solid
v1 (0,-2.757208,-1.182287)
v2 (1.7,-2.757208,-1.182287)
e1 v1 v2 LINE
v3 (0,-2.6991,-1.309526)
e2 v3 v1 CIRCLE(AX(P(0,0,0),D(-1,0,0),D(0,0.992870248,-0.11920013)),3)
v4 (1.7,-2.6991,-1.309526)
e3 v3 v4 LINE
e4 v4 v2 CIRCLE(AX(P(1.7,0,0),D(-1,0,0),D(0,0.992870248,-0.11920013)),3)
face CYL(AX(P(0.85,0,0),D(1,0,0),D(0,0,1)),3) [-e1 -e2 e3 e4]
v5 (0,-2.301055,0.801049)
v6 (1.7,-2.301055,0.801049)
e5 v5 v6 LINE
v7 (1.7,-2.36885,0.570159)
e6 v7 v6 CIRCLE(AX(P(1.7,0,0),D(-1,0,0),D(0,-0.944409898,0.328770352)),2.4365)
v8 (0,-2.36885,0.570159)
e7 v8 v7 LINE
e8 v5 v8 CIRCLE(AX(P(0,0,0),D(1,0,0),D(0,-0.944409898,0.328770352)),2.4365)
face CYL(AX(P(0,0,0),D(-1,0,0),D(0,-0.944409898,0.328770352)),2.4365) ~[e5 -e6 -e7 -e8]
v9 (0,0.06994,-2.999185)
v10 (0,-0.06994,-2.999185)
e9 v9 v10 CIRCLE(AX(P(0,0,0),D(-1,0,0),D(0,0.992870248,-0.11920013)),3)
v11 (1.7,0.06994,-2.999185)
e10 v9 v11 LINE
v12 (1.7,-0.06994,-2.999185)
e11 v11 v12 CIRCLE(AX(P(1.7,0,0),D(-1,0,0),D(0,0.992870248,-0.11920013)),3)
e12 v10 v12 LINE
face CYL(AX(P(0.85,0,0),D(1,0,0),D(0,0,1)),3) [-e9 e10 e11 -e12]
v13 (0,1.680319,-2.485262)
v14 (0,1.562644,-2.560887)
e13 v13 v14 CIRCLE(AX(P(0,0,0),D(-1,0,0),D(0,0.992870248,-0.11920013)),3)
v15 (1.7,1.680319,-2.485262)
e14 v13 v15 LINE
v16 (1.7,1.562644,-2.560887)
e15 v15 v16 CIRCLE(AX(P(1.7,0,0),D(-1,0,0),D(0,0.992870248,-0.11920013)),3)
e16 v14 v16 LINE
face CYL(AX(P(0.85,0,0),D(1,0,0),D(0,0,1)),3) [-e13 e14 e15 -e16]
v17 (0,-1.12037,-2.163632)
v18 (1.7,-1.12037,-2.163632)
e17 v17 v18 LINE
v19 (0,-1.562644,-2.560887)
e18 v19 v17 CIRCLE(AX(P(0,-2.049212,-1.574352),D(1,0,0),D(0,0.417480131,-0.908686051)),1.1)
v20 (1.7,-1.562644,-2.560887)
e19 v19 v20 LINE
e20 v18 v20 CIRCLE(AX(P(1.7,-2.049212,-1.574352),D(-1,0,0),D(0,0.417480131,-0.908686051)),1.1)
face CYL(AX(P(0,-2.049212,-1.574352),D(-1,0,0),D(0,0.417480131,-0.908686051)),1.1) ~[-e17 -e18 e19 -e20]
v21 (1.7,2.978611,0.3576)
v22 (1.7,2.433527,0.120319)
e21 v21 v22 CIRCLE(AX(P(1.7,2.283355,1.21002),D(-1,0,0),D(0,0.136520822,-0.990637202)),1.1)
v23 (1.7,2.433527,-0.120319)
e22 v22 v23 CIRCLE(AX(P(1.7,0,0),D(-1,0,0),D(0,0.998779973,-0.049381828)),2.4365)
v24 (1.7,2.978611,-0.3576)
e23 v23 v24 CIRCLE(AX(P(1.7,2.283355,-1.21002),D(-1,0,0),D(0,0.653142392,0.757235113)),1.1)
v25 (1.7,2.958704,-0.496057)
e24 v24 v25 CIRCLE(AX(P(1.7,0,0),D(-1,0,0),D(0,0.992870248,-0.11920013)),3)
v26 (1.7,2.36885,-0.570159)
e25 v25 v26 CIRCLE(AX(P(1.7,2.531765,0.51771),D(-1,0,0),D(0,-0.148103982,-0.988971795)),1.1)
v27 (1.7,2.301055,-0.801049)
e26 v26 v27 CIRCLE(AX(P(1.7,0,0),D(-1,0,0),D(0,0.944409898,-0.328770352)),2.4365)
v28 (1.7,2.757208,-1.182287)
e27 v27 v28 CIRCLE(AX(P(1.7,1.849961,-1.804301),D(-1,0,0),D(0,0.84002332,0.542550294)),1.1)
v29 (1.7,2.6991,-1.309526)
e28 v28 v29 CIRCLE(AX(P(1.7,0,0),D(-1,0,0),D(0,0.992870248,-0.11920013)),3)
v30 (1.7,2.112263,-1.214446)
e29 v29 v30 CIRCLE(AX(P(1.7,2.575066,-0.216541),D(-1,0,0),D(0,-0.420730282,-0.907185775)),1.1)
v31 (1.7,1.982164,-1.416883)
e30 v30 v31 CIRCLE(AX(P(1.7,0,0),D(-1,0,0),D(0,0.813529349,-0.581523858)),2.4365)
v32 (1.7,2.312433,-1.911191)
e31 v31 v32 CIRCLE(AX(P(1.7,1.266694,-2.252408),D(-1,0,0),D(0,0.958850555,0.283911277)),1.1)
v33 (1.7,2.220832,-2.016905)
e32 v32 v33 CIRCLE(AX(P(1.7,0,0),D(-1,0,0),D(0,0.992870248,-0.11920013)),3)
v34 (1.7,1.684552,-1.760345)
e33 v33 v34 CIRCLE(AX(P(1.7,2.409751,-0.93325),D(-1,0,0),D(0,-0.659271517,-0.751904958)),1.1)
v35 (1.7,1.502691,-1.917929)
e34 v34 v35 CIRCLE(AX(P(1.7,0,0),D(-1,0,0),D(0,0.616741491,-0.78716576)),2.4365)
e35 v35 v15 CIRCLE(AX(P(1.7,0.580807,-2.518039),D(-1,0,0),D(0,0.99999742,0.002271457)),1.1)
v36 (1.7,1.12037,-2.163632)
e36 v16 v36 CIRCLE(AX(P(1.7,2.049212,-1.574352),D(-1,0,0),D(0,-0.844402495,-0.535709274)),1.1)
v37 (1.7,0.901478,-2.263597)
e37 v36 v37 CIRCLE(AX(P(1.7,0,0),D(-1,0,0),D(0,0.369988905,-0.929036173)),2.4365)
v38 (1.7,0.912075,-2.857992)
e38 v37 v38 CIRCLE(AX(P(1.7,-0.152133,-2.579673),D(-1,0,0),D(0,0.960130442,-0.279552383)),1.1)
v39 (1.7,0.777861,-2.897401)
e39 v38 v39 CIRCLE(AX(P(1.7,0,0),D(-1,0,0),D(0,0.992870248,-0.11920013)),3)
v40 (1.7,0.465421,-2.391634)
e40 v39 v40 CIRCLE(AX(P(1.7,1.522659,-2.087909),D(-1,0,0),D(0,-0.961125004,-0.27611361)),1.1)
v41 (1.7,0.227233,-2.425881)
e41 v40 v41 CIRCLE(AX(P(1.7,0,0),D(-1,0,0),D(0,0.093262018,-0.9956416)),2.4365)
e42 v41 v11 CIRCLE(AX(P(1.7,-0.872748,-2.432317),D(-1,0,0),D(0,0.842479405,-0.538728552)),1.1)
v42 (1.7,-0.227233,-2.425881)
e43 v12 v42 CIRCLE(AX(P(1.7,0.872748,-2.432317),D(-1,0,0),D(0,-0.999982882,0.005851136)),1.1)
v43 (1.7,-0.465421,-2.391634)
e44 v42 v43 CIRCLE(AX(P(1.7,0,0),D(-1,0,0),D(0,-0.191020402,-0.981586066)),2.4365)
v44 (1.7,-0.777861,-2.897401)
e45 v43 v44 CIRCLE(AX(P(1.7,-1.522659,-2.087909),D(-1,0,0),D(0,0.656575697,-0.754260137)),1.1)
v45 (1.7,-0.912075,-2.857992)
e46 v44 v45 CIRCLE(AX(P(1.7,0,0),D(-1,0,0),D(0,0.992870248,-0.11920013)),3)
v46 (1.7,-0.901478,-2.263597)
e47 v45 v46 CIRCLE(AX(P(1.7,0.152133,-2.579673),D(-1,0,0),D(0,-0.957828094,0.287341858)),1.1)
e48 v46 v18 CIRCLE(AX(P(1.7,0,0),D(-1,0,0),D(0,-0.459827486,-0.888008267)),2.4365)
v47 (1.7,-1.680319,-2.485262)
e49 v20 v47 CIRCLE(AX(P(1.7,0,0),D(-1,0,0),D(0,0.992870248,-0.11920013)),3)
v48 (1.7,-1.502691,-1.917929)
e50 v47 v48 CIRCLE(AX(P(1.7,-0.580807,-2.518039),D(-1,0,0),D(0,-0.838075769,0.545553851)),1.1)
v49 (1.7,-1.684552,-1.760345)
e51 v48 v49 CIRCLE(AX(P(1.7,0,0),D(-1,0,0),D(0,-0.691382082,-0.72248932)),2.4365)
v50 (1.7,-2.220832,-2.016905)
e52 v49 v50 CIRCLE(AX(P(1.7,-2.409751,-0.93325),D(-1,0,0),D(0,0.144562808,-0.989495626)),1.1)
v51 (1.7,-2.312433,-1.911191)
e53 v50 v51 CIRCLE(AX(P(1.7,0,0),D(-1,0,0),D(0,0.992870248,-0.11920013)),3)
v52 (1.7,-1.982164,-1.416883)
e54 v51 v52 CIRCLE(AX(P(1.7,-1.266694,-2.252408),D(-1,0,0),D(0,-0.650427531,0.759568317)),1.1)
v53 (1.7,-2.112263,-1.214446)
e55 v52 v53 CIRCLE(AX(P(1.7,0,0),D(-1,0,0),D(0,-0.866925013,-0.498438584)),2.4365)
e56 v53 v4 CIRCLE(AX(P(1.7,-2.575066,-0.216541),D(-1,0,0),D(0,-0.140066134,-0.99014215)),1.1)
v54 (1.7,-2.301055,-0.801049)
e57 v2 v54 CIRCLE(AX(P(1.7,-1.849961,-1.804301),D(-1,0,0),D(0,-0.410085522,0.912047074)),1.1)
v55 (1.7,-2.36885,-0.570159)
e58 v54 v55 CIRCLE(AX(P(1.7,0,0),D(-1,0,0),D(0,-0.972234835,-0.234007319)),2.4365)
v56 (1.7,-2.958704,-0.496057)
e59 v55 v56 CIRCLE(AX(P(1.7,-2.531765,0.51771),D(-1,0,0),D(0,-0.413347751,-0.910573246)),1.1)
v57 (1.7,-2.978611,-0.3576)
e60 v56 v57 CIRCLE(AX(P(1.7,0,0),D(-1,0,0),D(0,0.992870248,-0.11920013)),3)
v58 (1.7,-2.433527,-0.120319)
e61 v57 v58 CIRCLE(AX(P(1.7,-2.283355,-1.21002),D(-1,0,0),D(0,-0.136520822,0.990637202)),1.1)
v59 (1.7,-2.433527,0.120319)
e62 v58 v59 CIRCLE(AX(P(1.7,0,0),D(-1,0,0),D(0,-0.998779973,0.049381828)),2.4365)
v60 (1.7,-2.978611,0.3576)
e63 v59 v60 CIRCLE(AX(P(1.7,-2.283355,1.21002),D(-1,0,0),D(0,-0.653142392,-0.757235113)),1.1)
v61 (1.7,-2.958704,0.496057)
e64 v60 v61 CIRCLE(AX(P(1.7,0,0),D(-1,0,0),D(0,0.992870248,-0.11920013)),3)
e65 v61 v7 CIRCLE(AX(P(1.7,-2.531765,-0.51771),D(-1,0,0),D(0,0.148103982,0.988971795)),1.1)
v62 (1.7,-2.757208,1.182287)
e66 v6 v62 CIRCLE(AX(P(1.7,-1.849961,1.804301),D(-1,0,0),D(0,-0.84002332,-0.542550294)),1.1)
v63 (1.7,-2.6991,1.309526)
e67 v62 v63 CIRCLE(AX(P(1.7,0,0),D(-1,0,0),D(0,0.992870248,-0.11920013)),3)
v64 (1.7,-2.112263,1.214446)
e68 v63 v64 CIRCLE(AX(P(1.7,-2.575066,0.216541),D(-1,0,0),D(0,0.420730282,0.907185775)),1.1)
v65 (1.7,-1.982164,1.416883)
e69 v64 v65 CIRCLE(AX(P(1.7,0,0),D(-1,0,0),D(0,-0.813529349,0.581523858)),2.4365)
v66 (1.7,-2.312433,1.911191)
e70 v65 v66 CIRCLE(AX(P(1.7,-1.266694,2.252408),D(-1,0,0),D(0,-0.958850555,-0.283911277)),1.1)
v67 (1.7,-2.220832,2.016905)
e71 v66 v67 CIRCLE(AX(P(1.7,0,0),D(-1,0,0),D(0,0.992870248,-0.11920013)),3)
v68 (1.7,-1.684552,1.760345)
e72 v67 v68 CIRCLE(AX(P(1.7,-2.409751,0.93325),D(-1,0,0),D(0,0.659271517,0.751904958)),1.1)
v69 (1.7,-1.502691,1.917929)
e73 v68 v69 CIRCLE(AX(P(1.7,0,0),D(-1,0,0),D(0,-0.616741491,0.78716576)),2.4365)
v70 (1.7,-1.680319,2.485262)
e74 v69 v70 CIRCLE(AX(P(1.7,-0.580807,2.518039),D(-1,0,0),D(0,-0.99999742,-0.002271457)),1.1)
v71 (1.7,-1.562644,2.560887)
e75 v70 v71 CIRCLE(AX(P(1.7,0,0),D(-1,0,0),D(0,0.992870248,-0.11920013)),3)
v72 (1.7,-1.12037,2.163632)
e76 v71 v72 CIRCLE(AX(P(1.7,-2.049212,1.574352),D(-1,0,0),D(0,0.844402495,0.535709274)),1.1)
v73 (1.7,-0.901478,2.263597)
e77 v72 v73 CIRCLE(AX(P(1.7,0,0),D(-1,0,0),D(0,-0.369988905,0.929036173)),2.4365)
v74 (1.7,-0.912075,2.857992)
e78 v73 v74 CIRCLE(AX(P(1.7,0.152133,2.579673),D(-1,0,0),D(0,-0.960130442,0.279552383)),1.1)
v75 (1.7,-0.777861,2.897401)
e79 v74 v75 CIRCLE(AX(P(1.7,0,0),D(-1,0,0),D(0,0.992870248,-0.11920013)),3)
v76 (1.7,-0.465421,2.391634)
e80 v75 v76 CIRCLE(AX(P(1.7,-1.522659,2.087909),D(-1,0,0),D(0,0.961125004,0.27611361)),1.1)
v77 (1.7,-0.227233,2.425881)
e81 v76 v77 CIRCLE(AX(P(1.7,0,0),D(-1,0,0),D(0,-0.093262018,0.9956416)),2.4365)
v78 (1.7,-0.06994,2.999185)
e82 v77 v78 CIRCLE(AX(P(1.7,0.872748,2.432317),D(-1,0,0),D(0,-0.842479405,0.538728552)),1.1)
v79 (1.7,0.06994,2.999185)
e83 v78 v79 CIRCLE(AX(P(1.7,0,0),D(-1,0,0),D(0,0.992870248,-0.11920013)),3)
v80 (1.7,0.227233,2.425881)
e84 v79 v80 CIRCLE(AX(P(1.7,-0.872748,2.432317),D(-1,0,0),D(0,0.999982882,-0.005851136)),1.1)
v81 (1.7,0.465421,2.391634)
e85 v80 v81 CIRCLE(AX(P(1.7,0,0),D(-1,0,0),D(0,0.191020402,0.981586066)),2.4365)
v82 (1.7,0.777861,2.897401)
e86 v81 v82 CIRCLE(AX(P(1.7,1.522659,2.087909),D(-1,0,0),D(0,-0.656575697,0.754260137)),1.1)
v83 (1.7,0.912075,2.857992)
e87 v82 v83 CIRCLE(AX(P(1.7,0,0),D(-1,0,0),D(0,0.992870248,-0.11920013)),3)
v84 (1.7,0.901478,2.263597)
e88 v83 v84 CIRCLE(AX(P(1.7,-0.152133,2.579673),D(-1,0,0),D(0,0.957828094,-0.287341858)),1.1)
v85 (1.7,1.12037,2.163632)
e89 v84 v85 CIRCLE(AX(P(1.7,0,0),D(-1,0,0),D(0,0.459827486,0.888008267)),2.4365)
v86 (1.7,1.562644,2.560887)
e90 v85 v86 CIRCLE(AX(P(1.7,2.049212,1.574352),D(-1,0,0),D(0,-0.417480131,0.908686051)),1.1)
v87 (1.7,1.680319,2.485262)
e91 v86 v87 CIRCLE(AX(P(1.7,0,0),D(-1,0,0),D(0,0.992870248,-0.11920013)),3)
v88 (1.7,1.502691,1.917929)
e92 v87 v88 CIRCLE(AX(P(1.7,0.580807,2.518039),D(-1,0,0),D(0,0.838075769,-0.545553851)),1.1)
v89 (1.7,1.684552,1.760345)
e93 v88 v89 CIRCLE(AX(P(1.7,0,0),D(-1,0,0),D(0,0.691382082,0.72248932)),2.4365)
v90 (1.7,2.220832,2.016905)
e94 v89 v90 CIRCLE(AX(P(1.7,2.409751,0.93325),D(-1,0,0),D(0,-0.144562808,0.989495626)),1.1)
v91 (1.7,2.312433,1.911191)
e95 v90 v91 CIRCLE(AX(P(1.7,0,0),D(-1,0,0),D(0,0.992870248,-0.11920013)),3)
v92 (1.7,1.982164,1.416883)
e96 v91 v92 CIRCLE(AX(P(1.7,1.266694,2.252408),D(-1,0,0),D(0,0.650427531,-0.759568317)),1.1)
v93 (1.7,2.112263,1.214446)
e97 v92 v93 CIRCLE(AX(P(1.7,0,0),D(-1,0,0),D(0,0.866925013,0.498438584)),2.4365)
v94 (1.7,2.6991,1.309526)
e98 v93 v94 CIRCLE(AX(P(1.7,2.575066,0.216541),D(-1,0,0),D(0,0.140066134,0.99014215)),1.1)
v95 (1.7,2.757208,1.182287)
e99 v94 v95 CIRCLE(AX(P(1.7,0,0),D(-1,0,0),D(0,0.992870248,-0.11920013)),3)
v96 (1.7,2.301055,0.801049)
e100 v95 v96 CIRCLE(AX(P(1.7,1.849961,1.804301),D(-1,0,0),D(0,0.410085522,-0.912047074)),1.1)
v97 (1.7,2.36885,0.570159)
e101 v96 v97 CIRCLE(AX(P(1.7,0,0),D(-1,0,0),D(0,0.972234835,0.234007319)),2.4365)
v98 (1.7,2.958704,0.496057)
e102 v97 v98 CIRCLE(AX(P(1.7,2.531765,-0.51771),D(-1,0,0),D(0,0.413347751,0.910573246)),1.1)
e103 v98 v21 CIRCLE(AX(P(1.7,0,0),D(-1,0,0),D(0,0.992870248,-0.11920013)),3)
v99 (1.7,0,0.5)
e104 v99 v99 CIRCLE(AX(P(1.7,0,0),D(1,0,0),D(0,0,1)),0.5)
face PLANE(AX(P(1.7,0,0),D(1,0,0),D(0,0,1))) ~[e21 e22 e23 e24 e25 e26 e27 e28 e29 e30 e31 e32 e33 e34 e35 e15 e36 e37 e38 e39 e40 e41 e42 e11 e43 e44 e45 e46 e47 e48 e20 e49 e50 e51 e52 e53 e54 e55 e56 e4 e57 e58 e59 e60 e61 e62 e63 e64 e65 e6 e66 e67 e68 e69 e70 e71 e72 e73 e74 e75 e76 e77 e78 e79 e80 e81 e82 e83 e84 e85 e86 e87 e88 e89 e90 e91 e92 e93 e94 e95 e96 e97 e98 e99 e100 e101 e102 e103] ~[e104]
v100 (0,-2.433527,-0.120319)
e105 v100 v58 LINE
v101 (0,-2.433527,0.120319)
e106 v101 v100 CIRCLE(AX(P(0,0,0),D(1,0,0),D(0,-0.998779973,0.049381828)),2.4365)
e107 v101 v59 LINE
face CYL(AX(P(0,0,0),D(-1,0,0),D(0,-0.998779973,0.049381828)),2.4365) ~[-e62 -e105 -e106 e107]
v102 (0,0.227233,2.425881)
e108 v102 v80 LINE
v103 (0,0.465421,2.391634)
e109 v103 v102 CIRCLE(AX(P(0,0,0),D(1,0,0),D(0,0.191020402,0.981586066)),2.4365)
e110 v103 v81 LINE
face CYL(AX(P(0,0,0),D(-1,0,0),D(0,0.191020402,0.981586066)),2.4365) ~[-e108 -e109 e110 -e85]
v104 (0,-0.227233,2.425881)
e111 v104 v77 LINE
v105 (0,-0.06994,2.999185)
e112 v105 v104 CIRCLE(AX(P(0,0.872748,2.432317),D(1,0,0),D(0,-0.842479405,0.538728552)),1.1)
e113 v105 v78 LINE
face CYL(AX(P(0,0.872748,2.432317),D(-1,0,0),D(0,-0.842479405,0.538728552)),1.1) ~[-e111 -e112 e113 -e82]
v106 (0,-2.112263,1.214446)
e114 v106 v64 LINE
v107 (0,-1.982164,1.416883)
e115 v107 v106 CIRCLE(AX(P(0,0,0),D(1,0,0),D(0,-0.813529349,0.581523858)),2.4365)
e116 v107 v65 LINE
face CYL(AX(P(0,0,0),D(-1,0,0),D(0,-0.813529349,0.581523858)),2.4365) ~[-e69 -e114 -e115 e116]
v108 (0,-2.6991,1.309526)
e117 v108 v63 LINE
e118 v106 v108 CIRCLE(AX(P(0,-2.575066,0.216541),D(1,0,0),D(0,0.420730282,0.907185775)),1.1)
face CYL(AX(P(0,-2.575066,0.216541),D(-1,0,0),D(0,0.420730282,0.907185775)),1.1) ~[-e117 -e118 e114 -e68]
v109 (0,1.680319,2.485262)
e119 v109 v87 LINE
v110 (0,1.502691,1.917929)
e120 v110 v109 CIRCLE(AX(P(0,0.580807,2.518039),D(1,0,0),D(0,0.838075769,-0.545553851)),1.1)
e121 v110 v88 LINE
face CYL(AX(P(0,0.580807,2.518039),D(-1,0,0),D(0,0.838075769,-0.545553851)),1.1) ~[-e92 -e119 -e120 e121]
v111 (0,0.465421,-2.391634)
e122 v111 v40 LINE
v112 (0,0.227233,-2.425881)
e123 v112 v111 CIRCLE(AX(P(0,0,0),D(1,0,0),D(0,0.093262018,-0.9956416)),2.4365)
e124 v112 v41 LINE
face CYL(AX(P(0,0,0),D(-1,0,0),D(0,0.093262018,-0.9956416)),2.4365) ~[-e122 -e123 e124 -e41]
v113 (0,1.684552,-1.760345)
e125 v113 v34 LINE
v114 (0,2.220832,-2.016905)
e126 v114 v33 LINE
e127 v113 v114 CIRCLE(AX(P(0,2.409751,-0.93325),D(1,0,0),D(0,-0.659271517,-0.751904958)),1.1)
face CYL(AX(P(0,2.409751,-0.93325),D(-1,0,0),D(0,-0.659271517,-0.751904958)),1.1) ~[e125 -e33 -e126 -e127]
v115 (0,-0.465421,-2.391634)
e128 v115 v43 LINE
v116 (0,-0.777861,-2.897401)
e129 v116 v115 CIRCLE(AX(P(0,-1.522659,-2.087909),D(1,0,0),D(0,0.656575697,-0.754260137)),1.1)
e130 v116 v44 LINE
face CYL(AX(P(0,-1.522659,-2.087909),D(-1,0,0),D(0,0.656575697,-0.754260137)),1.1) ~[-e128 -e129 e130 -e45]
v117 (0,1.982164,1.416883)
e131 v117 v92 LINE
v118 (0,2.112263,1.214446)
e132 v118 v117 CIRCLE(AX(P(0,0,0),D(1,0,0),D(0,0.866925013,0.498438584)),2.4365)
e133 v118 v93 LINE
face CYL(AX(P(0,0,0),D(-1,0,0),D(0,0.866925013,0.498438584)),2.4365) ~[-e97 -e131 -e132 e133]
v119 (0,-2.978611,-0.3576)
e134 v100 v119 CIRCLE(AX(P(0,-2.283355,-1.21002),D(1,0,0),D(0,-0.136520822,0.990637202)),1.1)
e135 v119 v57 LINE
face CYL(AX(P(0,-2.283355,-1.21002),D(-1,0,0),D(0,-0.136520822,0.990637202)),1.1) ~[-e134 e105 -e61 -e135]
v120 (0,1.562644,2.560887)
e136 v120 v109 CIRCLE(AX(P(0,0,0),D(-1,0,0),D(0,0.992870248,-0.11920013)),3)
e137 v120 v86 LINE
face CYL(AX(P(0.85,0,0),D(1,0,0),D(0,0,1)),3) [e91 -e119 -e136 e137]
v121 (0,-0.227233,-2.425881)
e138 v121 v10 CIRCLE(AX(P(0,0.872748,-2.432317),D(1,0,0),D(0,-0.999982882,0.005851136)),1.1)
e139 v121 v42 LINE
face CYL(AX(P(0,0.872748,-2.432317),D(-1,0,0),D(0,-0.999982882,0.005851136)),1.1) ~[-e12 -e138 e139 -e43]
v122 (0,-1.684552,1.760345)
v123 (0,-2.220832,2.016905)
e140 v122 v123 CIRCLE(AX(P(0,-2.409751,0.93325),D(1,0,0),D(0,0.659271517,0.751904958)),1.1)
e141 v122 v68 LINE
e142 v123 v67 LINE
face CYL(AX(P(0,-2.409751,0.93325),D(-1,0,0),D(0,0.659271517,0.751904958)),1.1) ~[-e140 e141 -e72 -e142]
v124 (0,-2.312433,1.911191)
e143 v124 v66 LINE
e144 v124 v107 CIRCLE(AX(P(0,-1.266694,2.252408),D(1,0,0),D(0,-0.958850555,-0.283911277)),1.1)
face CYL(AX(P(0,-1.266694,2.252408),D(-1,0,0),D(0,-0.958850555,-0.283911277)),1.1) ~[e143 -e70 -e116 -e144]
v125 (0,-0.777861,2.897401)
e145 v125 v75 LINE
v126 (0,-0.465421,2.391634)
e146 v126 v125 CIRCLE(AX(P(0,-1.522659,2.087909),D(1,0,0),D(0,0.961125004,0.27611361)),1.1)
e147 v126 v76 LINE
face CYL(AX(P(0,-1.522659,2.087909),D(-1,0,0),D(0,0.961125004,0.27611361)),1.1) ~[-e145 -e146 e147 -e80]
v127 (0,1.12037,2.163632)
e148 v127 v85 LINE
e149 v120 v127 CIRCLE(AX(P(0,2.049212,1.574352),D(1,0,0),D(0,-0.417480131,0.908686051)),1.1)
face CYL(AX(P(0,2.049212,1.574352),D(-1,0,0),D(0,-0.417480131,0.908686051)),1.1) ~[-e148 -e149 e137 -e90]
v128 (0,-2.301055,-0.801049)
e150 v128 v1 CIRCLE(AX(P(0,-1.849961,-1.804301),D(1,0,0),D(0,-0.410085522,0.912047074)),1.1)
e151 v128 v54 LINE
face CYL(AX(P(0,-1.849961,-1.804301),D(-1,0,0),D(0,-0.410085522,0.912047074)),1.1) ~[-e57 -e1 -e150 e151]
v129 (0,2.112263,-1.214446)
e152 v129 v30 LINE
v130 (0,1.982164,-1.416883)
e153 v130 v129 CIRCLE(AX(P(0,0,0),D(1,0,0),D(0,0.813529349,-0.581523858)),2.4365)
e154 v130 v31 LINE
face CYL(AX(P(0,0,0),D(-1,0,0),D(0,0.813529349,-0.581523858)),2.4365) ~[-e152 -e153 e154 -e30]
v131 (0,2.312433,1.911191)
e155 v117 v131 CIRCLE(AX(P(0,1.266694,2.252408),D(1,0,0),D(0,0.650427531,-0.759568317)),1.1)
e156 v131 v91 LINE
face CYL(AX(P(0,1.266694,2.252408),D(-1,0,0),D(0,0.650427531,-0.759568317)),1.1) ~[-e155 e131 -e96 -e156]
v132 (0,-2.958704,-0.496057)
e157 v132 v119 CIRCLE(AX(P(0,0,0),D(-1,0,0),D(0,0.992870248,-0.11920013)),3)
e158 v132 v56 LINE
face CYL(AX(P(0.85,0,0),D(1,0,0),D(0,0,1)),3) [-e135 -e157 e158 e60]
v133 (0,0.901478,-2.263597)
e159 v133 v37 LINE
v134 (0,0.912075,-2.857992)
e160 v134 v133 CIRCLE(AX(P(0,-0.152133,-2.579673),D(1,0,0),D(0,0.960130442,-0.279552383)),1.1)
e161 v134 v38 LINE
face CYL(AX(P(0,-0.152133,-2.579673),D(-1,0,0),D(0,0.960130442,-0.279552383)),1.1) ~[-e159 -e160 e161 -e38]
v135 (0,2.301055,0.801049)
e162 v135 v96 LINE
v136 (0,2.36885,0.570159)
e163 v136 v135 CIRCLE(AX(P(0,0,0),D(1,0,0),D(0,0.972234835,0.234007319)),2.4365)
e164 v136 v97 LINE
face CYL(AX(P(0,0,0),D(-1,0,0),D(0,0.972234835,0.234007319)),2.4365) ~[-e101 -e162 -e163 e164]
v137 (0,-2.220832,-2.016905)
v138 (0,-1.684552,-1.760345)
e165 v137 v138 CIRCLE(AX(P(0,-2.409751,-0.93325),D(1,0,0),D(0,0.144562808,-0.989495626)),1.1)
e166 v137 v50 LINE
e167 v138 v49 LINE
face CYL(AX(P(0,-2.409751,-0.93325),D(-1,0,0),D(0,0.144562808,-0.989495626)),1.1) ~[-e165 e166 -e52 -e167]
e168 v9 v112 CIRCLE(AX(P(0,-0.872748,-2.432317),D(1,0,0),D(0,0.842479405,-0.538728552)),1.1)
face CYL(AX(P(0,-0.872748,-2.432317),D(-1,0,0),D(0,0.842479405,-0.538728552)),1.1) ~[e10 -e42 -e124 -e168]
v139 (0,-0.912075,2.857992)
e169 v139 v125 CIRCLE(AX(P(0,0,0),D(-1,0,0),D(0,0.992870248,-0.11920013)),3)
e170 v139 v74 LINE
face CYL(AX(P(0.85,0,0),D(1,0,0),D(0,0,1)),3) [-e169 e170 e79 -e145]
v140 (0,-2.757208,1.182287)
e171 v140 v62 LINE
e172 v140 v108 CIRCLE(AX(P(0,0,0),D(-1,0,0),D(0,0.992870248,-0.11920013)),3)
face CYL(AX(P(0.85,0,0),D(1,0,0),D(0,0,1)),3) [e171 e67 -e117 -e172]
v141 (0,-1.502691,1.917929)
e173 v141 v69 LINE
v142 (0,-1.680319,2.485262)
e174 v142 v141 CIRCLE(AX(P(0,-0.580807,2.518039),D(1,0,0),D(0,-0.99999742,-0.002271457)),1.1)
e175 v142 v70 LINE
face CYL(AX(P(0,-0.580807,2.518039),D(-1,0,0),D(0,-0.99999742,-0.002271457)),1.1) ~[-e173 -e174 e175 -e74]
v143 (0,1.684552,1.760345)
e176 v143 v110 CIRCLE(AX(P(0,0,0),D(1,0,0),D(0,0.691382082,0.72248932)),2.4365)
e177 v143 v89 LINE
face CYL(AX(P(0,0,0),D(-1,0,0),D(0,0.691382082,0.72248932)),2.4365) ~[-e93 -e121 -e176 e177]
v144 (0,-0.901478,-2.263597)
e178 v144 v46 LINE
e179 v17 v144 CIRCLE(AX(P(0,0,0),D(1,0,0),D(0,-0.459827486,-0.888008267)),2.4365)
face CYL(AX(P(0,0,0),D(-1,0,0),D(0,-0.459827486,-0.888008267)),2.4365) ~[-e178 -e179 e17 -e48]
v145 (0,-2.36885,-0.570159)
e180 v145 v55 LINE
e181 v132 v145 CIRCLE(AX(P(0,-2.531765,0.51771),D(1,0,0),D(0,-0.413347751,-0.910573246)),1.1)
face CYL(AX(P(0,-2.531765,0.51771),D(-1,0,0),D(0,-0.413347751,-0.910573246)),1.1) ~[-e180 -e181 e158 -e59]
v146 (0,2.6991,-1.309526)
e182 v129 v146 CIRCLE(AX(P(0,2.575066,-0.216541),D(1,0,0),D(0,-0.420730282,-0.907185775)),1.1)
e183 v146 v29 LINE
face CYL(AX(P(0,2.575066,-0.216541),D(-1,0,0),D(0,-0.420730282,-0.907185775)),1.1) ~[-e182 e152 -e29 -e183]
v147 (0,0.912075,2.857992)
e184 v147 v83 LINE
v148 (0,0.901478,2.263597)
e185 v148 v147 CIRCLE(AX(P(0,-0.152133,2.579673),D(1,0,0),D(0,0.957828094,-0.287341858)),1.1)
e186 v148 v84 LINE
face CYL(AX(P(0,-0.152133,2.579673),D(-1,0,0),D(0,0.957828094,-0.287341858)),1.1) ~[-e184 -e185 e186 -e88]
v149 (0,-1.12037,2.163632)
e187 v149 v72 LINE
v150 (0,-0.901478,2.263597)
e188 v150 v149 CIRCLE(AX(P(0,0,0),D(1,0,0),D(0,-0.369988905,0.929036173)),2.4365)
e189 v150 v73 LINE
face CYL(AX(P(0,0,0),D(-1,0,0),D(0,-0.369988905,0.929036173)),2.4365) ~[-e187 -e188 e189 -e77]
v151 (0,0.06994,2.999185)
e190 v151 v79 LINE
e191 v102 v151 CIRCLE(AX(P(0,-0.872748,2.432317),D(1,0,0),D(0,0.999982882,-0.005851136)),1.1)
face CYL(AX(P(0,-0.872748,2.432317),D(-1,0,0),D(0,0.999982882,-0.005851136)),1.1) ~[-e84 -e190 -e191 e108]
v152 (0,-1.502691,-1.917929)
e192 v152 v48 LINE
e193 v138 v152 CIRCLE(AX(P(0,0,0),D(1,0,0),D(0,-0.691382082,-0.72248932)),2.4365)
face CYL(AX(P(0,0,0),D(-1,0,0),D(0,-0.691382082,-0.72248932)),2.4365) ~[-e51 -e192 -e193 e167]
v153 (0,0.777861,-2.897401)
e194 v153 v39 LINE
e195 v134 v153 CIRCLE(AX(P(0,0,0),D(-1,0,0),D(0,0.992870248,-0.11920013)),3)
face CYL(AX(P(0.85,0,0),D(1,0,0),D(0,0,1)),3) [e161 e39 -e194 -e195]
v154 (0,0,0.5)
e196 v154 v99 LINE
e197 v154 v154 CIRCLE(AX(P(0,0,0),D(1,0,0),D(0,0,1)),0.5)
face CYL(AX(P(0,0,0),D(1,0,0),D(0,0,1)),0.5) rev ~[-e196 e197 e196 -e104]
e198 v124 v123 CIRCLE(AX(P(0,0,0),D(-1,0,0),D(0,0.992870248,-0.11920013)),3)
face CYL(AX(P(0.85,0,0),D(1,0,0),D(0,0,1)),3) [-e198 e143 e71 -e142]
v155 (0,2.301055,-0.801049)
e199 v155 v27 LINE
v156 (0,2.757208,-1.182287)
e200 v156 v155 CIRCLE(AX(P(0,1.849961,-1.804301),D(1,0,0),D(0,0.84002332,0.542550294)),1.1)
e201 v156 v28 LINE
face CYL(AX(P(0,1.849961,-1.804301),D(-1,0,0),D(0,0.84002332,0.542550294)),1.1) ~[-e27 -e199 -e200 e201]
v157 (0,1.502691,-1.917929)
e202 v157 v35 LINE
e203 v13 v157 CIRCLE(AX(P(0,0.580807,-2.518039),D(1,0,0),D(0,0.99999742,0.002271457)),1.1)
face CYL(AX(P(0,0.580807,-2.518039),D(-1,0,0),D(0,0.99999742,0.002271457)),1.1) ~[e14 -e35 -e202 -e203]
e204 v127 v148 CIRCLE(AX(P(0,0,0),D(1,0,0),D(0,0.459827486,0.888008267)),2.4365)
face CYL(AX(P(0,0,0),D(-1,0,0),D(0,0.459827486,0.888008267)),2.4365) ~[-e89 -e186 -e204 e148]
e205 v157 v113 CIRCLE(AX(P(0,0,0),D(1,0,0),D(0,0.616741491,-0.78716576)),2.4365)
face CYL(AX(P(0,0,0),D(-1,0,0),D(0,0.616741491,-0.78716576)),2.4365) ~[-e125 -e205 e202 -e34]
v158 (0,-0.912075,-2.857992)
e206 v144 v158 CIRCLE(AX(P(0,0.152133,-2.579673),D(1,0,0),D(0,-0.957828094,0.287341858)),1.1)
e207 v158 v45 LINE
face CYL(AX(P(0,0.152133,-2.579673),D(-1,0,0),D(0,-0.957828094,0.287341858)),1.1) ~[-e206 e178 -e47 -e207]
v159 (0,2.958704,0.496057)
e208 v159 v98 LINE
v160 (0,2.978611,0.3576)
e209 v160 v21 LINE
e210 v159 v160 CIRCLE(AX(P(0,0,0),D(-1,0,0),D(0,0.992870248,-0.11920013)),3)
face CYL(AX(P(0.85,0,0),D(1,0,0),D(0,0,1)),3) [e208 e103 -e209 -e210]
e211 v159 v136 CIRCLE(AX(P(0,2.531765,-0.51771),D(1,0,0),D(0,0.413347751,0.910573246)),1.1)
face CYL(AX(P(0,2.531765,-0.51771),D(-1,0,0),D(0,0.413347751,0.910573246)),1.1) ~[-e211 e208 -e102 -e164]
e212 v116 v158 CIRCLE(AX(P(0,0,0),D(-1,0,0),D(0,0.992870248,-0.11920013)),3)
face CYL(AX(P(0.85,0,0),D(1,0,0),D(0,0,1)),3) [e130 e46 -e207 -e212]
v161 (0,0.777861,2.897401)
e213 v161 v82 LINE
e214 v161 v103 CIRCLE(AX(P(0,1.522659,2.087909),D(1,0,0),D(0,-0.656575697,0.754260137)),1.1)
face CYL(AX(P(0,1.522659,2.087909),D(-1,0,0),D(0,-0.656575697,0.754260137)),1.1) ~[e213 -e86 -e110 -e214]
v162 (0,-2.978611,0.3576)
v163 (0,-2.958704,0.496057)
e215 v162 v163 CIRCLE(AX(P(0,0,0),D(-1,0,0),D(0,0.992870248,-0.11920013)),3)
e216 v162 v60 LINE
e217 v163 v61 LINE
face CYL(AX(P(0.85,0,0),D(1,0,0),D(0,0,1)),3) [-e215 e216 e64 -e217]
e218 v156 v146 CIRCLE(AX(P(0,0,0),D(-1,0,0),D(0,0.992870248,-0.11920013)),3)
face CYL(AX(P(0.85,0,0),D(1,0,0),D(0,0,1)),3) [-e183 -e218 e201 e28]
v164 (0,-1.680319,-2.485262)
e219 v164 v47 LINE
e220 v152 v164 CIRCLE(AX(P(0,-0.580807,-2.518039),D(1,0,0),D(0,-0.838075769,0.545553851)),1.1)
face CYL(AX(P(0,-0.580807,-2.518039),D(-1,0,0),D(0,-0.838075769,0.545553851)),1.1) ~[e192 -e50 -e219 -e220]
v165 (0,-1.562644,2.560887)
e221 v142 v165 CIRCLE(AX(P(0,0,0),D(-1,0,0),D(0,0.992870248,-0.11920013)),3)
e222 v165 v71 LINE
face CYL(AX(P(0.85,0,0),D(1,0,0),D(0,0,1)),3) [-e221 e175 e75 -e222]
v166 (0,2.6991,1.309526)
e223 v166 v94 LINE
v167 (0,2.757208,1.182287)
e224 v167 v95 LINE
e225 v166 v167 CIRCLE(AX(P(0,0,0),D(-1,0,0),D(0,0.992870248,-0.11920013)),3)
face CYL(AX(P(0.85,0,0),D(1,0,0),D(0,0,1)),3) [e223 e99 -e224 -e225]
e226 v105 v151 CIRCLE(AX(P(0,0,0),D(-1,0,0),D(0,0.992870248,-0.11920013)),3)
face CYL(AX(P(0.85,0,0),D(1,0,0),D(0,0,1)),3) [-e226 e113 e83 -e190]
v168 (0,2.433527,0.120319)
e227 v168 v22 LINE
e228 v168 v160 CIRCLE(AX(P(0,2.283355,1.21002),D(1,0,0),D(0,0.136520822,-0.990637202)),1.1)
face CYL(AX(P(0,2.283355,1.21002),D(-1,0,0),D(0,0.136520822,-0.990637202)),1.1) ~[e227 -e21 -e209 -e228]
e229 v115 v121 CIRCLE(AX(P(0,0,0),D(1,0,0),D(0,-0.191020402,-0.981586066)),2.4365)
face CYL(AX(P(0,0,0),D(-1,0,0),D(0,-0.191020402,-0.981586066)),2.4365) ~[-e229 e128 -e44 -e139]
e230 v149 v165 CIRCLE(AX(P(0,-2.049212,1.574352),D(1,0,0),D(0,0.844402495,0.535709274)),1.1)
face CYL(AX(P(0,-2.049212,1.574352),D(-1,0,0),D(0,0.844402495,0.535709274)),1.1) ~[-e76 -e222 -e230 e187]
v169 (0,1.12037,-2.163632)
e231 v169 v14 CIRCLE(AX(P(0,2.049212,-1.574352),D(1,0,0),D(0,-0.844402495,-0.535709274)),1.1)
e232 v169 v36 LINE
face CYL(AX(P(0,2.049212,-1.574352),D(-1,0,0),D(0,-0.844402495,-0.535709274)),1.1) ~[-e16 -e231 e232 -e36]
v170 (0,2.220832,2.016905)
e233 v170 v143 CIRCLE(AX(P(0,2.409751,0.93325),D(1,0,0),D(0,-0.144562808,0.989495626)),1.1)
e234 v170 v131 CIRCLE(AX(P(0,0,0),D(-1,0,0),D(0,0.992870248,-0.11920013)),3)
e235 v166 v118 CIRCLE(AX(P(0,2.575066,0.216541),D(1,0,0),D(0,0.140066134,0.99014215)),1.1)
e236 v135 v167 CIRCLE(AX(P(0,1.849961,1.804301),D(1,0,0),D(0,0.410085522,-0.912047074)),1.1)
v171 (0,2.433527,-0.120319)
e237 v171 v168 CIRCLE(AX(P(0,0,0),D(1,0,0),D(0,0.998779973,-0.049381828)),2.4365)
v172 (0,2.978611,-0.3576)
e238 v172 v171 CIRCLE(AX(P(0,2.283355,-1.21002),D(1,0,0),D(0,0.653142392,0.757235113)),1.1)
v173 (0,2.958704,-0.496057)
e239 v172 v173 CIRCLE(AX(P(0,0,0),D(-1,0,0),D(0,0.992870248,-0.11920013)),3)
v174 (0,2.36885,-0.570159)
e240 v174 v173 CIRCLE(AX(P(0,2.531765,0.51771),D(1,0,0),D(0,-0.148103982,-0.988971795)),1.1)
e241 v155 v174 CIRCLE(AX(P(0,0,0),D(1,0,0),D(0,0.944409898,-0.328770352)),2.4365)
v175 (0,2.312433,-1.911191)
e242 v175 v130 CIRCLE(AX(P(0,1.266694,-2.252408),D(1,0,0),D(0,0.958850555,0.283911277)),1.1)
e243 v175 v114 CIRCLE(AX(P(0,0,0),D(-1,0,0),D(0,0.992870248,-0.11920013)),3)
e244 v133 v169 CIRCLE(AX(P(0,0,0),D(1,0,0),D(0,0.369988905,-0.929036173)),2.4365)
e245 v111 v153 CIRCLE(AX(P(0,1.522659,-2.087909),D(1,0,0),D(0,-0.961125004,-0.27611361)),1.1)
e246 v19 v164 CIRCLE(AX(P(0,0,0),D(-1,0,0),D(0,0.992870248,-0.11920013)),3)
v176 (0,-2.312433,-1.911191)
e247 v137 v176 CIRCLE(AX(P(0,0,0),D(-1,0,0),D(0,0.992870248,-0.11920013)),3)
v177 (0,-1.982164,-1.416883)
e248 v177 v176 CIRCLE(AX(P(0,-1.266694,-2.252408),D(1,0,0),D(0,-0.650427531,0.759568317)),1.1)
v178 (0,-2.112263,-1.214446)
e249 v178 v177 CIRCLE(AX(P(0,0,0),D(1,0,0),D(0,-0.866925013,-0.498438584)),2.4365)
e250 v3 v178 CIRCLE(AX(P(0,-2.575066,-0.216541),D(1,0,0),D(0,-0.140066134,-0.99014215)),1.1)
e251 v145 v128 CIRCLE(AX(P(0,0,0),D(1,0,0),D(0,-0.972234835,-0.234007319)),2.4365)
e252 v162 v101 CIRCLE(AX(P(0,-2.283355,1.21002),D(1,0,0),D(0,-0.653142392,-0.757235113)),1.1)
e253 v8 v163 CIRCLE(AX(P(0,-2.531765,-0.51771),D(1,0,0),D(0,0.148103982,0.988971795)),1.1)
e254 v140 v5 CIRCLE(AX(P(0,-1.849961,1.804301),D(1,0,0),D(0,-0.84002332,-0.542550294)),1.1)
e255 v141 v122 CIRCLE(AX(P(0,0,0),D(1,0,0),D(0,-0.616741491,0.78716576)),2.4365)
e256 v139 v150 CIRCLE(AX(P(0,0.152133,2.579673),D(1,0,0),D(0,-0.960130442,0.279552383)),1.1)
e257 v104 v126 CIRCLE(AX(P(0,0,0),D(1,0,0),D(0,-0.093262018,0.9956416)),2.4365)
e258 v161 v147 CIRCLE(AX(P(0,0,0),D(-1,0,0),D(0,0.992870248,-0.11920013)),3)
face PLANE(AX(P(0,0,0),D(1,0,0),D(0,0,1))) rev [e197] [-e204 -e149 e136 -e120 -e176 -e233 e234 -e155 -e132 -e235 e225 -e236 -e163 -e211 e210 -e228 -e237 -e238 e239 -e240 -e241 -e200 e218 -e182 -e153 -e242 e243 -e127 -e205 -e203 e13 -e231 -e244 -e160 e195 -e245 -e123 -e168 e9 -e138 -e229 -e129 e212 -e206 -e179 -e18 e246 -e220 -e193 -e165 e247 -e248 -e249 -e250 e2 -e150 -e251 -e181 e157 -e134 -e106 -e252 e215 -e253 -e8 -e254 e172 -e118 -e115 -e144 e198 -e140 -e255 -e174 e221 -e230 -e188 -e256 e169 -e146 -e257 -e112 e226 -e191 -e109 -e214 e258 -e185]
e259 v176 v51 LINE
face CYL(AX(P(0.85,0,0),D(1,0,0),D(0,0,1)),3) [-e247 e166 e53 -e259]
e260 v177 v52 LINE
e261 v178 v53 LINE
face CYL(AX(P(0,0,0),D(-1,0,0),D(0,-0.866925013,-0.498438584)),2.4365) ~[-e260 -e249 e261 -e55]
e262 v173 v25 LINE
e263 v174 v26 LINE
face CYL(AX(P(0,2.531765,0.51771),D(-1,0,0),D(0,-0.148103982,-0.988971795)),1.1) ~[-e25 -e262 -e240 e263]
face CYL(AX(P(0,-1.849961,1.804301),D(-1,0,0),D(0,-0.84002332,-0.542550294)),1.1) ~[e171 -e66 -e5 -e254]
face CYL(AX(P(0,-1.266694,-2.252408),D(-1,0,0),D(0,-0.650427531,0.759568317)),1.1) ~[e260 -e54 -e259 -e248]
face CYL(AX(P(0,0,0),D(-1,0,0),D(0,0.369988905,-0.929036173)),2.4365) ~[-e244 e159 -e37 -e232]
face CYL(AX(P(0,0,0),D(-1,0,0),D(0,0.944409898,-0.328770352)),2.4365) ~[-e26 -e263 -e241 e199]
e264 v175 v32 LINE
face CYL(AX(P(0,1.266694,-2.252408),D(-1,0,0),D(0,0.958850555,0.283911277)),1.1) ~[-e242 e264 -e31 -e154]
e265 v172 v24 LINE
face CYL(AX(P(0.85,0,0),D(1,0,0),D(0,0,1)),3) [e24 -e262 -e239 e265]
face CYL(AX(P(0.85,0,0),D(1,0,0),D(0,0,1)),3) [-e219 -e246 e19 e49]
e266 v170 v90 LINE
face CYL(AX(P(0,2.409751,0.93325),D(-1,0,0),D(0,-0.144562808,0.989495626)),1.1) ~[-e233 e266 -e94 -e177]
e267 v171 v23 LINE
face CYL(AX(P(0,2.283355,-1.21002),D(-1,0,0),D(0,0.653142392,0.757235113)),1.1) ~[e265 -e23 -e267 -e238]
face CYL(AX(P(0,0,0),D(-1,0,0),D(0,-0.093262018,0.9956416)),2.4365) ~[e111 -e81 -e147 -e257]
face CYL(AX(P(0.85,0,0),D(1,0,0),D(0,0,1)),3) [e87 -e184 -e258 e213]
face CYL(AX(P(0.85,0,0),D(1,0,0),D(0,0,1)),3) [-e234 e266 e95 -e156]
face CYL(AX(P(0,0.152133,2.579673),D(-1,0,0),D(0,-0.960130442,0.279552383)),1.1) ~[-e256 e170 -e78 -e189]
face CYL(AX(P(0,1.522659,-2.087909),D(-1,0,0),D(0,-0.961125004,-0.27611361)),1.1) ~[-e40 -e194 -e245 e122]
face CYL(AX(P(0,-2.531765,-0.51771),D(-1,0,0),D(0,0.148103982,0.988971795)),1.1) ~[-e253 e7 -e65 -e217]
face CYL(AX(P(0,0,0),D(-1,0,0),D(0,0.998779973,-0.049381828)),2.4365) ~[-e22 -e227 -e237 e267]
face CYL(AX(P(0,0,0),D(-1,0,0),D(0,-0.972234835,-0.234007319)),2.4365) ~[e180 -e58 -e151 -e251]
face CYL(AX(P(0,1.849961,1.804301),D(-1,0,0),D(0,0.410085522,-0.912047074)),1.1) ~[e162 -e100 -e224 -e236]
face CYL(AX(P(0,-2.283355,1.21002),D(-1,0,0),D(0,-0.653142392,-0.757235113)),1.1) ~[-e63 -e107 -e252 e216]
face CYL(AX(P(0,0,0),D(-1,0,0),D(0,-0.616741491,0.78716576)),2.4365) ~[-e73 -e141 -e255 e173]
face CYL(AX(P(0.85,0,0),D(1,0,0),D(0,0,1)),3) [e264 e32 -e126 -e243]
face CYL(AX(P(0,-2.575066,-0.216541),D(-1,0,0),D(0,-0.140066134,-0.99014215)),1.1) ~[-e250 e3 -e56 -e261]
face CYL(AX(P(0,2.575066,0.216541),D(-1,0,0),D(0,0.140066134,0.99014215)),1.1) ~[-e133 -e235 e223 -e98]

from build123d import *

# Parameters (mm, degrees)
BASPROSKE_W     = 1.7
BASPROSKE_H     = 3
TOOTHCUT_DEPTH  = 5.570557953
TEETHCUTS_COUNT = 22
TEETHCUTS_ANGLE = 343.636363636
BORSKE_R        = 0.5
BORE_DEPTH      = 50.0000508


with BuildPart() as part:
    # BasProSke → Base-Revolve (revolve)
    with BuildSketch(Plane(origin=(0, 0, 0), x_dir=(1, 0, 0), z_dir=(0, 1, 0)), mode=Mode.PRIVATE) as base_revolve_sk:
        with Locations((0.85, 1.5)):
            Rectangle(BASPROSKE_W, BASPROSKE_H)
    revolve(base_revolve_sk.sketch.rotate(Axis((-10, 0, 0), (1, 0, 0)), 180), axis=Axis((-10, 0, 0), (1, 0, 0)))

    # TooCutSke → ToothCut (cut, through all)
    with BuildSketch(Plane(origin=(0, 0, 0), x_dir=(0, 0, -1), z_dir=(1, 0, 0))):
        with BuildLine():
            ThreePointArc((0.120318822, 2.433527405), (0, 2.4365), (-0.120318822, 2.433527405))
            ThreePointArc((-0.120318822, 2.433527405), (-0.207576962, 2.736243526), (-0.37706112, 3.001811132))
            ThreePointArc((-0.37706112, 3.001811132), (0, 3.0254), (0.37706112, 3.001811132))
            ThreePointArc((0.37706112, 3.001811132), (0.207576962, 2.736243526), (0.120318822, 2.433527405))
        make_face()
    toothcut = extrude(amount=TOOTHCUT_DEPTH, mode=Mode.SUBTRACT)

    # TeethCuts: ToothCut ×22 about axis
    teethcuts_axis = Axis((-10, 0, 0), (1, 0, 0))
    for i in range(1, TEETHCUTS_COUNT):
        add(toothcut.rotate(teethcuts_axis, i * TEETHCUTS_ANGLE / (TEETHCUTS_COUNT - 1)), mode=Mode.SUBTRACT)

    # BorSke → Bore (cut, symmetric)
    with BuildSketch(Plane(origin=(0, 0, 0), x_dir=(0, 0, -1), z_dir=(1, 0, 0))):
        with Locations(Location((0, 0, 0), (0, 0, 180))):
            Circle(BORSKE_R)
    extrude(amount=BORE_DEPTH, both=True, mode=Mode.SUBTRACT)


solid = part.part
